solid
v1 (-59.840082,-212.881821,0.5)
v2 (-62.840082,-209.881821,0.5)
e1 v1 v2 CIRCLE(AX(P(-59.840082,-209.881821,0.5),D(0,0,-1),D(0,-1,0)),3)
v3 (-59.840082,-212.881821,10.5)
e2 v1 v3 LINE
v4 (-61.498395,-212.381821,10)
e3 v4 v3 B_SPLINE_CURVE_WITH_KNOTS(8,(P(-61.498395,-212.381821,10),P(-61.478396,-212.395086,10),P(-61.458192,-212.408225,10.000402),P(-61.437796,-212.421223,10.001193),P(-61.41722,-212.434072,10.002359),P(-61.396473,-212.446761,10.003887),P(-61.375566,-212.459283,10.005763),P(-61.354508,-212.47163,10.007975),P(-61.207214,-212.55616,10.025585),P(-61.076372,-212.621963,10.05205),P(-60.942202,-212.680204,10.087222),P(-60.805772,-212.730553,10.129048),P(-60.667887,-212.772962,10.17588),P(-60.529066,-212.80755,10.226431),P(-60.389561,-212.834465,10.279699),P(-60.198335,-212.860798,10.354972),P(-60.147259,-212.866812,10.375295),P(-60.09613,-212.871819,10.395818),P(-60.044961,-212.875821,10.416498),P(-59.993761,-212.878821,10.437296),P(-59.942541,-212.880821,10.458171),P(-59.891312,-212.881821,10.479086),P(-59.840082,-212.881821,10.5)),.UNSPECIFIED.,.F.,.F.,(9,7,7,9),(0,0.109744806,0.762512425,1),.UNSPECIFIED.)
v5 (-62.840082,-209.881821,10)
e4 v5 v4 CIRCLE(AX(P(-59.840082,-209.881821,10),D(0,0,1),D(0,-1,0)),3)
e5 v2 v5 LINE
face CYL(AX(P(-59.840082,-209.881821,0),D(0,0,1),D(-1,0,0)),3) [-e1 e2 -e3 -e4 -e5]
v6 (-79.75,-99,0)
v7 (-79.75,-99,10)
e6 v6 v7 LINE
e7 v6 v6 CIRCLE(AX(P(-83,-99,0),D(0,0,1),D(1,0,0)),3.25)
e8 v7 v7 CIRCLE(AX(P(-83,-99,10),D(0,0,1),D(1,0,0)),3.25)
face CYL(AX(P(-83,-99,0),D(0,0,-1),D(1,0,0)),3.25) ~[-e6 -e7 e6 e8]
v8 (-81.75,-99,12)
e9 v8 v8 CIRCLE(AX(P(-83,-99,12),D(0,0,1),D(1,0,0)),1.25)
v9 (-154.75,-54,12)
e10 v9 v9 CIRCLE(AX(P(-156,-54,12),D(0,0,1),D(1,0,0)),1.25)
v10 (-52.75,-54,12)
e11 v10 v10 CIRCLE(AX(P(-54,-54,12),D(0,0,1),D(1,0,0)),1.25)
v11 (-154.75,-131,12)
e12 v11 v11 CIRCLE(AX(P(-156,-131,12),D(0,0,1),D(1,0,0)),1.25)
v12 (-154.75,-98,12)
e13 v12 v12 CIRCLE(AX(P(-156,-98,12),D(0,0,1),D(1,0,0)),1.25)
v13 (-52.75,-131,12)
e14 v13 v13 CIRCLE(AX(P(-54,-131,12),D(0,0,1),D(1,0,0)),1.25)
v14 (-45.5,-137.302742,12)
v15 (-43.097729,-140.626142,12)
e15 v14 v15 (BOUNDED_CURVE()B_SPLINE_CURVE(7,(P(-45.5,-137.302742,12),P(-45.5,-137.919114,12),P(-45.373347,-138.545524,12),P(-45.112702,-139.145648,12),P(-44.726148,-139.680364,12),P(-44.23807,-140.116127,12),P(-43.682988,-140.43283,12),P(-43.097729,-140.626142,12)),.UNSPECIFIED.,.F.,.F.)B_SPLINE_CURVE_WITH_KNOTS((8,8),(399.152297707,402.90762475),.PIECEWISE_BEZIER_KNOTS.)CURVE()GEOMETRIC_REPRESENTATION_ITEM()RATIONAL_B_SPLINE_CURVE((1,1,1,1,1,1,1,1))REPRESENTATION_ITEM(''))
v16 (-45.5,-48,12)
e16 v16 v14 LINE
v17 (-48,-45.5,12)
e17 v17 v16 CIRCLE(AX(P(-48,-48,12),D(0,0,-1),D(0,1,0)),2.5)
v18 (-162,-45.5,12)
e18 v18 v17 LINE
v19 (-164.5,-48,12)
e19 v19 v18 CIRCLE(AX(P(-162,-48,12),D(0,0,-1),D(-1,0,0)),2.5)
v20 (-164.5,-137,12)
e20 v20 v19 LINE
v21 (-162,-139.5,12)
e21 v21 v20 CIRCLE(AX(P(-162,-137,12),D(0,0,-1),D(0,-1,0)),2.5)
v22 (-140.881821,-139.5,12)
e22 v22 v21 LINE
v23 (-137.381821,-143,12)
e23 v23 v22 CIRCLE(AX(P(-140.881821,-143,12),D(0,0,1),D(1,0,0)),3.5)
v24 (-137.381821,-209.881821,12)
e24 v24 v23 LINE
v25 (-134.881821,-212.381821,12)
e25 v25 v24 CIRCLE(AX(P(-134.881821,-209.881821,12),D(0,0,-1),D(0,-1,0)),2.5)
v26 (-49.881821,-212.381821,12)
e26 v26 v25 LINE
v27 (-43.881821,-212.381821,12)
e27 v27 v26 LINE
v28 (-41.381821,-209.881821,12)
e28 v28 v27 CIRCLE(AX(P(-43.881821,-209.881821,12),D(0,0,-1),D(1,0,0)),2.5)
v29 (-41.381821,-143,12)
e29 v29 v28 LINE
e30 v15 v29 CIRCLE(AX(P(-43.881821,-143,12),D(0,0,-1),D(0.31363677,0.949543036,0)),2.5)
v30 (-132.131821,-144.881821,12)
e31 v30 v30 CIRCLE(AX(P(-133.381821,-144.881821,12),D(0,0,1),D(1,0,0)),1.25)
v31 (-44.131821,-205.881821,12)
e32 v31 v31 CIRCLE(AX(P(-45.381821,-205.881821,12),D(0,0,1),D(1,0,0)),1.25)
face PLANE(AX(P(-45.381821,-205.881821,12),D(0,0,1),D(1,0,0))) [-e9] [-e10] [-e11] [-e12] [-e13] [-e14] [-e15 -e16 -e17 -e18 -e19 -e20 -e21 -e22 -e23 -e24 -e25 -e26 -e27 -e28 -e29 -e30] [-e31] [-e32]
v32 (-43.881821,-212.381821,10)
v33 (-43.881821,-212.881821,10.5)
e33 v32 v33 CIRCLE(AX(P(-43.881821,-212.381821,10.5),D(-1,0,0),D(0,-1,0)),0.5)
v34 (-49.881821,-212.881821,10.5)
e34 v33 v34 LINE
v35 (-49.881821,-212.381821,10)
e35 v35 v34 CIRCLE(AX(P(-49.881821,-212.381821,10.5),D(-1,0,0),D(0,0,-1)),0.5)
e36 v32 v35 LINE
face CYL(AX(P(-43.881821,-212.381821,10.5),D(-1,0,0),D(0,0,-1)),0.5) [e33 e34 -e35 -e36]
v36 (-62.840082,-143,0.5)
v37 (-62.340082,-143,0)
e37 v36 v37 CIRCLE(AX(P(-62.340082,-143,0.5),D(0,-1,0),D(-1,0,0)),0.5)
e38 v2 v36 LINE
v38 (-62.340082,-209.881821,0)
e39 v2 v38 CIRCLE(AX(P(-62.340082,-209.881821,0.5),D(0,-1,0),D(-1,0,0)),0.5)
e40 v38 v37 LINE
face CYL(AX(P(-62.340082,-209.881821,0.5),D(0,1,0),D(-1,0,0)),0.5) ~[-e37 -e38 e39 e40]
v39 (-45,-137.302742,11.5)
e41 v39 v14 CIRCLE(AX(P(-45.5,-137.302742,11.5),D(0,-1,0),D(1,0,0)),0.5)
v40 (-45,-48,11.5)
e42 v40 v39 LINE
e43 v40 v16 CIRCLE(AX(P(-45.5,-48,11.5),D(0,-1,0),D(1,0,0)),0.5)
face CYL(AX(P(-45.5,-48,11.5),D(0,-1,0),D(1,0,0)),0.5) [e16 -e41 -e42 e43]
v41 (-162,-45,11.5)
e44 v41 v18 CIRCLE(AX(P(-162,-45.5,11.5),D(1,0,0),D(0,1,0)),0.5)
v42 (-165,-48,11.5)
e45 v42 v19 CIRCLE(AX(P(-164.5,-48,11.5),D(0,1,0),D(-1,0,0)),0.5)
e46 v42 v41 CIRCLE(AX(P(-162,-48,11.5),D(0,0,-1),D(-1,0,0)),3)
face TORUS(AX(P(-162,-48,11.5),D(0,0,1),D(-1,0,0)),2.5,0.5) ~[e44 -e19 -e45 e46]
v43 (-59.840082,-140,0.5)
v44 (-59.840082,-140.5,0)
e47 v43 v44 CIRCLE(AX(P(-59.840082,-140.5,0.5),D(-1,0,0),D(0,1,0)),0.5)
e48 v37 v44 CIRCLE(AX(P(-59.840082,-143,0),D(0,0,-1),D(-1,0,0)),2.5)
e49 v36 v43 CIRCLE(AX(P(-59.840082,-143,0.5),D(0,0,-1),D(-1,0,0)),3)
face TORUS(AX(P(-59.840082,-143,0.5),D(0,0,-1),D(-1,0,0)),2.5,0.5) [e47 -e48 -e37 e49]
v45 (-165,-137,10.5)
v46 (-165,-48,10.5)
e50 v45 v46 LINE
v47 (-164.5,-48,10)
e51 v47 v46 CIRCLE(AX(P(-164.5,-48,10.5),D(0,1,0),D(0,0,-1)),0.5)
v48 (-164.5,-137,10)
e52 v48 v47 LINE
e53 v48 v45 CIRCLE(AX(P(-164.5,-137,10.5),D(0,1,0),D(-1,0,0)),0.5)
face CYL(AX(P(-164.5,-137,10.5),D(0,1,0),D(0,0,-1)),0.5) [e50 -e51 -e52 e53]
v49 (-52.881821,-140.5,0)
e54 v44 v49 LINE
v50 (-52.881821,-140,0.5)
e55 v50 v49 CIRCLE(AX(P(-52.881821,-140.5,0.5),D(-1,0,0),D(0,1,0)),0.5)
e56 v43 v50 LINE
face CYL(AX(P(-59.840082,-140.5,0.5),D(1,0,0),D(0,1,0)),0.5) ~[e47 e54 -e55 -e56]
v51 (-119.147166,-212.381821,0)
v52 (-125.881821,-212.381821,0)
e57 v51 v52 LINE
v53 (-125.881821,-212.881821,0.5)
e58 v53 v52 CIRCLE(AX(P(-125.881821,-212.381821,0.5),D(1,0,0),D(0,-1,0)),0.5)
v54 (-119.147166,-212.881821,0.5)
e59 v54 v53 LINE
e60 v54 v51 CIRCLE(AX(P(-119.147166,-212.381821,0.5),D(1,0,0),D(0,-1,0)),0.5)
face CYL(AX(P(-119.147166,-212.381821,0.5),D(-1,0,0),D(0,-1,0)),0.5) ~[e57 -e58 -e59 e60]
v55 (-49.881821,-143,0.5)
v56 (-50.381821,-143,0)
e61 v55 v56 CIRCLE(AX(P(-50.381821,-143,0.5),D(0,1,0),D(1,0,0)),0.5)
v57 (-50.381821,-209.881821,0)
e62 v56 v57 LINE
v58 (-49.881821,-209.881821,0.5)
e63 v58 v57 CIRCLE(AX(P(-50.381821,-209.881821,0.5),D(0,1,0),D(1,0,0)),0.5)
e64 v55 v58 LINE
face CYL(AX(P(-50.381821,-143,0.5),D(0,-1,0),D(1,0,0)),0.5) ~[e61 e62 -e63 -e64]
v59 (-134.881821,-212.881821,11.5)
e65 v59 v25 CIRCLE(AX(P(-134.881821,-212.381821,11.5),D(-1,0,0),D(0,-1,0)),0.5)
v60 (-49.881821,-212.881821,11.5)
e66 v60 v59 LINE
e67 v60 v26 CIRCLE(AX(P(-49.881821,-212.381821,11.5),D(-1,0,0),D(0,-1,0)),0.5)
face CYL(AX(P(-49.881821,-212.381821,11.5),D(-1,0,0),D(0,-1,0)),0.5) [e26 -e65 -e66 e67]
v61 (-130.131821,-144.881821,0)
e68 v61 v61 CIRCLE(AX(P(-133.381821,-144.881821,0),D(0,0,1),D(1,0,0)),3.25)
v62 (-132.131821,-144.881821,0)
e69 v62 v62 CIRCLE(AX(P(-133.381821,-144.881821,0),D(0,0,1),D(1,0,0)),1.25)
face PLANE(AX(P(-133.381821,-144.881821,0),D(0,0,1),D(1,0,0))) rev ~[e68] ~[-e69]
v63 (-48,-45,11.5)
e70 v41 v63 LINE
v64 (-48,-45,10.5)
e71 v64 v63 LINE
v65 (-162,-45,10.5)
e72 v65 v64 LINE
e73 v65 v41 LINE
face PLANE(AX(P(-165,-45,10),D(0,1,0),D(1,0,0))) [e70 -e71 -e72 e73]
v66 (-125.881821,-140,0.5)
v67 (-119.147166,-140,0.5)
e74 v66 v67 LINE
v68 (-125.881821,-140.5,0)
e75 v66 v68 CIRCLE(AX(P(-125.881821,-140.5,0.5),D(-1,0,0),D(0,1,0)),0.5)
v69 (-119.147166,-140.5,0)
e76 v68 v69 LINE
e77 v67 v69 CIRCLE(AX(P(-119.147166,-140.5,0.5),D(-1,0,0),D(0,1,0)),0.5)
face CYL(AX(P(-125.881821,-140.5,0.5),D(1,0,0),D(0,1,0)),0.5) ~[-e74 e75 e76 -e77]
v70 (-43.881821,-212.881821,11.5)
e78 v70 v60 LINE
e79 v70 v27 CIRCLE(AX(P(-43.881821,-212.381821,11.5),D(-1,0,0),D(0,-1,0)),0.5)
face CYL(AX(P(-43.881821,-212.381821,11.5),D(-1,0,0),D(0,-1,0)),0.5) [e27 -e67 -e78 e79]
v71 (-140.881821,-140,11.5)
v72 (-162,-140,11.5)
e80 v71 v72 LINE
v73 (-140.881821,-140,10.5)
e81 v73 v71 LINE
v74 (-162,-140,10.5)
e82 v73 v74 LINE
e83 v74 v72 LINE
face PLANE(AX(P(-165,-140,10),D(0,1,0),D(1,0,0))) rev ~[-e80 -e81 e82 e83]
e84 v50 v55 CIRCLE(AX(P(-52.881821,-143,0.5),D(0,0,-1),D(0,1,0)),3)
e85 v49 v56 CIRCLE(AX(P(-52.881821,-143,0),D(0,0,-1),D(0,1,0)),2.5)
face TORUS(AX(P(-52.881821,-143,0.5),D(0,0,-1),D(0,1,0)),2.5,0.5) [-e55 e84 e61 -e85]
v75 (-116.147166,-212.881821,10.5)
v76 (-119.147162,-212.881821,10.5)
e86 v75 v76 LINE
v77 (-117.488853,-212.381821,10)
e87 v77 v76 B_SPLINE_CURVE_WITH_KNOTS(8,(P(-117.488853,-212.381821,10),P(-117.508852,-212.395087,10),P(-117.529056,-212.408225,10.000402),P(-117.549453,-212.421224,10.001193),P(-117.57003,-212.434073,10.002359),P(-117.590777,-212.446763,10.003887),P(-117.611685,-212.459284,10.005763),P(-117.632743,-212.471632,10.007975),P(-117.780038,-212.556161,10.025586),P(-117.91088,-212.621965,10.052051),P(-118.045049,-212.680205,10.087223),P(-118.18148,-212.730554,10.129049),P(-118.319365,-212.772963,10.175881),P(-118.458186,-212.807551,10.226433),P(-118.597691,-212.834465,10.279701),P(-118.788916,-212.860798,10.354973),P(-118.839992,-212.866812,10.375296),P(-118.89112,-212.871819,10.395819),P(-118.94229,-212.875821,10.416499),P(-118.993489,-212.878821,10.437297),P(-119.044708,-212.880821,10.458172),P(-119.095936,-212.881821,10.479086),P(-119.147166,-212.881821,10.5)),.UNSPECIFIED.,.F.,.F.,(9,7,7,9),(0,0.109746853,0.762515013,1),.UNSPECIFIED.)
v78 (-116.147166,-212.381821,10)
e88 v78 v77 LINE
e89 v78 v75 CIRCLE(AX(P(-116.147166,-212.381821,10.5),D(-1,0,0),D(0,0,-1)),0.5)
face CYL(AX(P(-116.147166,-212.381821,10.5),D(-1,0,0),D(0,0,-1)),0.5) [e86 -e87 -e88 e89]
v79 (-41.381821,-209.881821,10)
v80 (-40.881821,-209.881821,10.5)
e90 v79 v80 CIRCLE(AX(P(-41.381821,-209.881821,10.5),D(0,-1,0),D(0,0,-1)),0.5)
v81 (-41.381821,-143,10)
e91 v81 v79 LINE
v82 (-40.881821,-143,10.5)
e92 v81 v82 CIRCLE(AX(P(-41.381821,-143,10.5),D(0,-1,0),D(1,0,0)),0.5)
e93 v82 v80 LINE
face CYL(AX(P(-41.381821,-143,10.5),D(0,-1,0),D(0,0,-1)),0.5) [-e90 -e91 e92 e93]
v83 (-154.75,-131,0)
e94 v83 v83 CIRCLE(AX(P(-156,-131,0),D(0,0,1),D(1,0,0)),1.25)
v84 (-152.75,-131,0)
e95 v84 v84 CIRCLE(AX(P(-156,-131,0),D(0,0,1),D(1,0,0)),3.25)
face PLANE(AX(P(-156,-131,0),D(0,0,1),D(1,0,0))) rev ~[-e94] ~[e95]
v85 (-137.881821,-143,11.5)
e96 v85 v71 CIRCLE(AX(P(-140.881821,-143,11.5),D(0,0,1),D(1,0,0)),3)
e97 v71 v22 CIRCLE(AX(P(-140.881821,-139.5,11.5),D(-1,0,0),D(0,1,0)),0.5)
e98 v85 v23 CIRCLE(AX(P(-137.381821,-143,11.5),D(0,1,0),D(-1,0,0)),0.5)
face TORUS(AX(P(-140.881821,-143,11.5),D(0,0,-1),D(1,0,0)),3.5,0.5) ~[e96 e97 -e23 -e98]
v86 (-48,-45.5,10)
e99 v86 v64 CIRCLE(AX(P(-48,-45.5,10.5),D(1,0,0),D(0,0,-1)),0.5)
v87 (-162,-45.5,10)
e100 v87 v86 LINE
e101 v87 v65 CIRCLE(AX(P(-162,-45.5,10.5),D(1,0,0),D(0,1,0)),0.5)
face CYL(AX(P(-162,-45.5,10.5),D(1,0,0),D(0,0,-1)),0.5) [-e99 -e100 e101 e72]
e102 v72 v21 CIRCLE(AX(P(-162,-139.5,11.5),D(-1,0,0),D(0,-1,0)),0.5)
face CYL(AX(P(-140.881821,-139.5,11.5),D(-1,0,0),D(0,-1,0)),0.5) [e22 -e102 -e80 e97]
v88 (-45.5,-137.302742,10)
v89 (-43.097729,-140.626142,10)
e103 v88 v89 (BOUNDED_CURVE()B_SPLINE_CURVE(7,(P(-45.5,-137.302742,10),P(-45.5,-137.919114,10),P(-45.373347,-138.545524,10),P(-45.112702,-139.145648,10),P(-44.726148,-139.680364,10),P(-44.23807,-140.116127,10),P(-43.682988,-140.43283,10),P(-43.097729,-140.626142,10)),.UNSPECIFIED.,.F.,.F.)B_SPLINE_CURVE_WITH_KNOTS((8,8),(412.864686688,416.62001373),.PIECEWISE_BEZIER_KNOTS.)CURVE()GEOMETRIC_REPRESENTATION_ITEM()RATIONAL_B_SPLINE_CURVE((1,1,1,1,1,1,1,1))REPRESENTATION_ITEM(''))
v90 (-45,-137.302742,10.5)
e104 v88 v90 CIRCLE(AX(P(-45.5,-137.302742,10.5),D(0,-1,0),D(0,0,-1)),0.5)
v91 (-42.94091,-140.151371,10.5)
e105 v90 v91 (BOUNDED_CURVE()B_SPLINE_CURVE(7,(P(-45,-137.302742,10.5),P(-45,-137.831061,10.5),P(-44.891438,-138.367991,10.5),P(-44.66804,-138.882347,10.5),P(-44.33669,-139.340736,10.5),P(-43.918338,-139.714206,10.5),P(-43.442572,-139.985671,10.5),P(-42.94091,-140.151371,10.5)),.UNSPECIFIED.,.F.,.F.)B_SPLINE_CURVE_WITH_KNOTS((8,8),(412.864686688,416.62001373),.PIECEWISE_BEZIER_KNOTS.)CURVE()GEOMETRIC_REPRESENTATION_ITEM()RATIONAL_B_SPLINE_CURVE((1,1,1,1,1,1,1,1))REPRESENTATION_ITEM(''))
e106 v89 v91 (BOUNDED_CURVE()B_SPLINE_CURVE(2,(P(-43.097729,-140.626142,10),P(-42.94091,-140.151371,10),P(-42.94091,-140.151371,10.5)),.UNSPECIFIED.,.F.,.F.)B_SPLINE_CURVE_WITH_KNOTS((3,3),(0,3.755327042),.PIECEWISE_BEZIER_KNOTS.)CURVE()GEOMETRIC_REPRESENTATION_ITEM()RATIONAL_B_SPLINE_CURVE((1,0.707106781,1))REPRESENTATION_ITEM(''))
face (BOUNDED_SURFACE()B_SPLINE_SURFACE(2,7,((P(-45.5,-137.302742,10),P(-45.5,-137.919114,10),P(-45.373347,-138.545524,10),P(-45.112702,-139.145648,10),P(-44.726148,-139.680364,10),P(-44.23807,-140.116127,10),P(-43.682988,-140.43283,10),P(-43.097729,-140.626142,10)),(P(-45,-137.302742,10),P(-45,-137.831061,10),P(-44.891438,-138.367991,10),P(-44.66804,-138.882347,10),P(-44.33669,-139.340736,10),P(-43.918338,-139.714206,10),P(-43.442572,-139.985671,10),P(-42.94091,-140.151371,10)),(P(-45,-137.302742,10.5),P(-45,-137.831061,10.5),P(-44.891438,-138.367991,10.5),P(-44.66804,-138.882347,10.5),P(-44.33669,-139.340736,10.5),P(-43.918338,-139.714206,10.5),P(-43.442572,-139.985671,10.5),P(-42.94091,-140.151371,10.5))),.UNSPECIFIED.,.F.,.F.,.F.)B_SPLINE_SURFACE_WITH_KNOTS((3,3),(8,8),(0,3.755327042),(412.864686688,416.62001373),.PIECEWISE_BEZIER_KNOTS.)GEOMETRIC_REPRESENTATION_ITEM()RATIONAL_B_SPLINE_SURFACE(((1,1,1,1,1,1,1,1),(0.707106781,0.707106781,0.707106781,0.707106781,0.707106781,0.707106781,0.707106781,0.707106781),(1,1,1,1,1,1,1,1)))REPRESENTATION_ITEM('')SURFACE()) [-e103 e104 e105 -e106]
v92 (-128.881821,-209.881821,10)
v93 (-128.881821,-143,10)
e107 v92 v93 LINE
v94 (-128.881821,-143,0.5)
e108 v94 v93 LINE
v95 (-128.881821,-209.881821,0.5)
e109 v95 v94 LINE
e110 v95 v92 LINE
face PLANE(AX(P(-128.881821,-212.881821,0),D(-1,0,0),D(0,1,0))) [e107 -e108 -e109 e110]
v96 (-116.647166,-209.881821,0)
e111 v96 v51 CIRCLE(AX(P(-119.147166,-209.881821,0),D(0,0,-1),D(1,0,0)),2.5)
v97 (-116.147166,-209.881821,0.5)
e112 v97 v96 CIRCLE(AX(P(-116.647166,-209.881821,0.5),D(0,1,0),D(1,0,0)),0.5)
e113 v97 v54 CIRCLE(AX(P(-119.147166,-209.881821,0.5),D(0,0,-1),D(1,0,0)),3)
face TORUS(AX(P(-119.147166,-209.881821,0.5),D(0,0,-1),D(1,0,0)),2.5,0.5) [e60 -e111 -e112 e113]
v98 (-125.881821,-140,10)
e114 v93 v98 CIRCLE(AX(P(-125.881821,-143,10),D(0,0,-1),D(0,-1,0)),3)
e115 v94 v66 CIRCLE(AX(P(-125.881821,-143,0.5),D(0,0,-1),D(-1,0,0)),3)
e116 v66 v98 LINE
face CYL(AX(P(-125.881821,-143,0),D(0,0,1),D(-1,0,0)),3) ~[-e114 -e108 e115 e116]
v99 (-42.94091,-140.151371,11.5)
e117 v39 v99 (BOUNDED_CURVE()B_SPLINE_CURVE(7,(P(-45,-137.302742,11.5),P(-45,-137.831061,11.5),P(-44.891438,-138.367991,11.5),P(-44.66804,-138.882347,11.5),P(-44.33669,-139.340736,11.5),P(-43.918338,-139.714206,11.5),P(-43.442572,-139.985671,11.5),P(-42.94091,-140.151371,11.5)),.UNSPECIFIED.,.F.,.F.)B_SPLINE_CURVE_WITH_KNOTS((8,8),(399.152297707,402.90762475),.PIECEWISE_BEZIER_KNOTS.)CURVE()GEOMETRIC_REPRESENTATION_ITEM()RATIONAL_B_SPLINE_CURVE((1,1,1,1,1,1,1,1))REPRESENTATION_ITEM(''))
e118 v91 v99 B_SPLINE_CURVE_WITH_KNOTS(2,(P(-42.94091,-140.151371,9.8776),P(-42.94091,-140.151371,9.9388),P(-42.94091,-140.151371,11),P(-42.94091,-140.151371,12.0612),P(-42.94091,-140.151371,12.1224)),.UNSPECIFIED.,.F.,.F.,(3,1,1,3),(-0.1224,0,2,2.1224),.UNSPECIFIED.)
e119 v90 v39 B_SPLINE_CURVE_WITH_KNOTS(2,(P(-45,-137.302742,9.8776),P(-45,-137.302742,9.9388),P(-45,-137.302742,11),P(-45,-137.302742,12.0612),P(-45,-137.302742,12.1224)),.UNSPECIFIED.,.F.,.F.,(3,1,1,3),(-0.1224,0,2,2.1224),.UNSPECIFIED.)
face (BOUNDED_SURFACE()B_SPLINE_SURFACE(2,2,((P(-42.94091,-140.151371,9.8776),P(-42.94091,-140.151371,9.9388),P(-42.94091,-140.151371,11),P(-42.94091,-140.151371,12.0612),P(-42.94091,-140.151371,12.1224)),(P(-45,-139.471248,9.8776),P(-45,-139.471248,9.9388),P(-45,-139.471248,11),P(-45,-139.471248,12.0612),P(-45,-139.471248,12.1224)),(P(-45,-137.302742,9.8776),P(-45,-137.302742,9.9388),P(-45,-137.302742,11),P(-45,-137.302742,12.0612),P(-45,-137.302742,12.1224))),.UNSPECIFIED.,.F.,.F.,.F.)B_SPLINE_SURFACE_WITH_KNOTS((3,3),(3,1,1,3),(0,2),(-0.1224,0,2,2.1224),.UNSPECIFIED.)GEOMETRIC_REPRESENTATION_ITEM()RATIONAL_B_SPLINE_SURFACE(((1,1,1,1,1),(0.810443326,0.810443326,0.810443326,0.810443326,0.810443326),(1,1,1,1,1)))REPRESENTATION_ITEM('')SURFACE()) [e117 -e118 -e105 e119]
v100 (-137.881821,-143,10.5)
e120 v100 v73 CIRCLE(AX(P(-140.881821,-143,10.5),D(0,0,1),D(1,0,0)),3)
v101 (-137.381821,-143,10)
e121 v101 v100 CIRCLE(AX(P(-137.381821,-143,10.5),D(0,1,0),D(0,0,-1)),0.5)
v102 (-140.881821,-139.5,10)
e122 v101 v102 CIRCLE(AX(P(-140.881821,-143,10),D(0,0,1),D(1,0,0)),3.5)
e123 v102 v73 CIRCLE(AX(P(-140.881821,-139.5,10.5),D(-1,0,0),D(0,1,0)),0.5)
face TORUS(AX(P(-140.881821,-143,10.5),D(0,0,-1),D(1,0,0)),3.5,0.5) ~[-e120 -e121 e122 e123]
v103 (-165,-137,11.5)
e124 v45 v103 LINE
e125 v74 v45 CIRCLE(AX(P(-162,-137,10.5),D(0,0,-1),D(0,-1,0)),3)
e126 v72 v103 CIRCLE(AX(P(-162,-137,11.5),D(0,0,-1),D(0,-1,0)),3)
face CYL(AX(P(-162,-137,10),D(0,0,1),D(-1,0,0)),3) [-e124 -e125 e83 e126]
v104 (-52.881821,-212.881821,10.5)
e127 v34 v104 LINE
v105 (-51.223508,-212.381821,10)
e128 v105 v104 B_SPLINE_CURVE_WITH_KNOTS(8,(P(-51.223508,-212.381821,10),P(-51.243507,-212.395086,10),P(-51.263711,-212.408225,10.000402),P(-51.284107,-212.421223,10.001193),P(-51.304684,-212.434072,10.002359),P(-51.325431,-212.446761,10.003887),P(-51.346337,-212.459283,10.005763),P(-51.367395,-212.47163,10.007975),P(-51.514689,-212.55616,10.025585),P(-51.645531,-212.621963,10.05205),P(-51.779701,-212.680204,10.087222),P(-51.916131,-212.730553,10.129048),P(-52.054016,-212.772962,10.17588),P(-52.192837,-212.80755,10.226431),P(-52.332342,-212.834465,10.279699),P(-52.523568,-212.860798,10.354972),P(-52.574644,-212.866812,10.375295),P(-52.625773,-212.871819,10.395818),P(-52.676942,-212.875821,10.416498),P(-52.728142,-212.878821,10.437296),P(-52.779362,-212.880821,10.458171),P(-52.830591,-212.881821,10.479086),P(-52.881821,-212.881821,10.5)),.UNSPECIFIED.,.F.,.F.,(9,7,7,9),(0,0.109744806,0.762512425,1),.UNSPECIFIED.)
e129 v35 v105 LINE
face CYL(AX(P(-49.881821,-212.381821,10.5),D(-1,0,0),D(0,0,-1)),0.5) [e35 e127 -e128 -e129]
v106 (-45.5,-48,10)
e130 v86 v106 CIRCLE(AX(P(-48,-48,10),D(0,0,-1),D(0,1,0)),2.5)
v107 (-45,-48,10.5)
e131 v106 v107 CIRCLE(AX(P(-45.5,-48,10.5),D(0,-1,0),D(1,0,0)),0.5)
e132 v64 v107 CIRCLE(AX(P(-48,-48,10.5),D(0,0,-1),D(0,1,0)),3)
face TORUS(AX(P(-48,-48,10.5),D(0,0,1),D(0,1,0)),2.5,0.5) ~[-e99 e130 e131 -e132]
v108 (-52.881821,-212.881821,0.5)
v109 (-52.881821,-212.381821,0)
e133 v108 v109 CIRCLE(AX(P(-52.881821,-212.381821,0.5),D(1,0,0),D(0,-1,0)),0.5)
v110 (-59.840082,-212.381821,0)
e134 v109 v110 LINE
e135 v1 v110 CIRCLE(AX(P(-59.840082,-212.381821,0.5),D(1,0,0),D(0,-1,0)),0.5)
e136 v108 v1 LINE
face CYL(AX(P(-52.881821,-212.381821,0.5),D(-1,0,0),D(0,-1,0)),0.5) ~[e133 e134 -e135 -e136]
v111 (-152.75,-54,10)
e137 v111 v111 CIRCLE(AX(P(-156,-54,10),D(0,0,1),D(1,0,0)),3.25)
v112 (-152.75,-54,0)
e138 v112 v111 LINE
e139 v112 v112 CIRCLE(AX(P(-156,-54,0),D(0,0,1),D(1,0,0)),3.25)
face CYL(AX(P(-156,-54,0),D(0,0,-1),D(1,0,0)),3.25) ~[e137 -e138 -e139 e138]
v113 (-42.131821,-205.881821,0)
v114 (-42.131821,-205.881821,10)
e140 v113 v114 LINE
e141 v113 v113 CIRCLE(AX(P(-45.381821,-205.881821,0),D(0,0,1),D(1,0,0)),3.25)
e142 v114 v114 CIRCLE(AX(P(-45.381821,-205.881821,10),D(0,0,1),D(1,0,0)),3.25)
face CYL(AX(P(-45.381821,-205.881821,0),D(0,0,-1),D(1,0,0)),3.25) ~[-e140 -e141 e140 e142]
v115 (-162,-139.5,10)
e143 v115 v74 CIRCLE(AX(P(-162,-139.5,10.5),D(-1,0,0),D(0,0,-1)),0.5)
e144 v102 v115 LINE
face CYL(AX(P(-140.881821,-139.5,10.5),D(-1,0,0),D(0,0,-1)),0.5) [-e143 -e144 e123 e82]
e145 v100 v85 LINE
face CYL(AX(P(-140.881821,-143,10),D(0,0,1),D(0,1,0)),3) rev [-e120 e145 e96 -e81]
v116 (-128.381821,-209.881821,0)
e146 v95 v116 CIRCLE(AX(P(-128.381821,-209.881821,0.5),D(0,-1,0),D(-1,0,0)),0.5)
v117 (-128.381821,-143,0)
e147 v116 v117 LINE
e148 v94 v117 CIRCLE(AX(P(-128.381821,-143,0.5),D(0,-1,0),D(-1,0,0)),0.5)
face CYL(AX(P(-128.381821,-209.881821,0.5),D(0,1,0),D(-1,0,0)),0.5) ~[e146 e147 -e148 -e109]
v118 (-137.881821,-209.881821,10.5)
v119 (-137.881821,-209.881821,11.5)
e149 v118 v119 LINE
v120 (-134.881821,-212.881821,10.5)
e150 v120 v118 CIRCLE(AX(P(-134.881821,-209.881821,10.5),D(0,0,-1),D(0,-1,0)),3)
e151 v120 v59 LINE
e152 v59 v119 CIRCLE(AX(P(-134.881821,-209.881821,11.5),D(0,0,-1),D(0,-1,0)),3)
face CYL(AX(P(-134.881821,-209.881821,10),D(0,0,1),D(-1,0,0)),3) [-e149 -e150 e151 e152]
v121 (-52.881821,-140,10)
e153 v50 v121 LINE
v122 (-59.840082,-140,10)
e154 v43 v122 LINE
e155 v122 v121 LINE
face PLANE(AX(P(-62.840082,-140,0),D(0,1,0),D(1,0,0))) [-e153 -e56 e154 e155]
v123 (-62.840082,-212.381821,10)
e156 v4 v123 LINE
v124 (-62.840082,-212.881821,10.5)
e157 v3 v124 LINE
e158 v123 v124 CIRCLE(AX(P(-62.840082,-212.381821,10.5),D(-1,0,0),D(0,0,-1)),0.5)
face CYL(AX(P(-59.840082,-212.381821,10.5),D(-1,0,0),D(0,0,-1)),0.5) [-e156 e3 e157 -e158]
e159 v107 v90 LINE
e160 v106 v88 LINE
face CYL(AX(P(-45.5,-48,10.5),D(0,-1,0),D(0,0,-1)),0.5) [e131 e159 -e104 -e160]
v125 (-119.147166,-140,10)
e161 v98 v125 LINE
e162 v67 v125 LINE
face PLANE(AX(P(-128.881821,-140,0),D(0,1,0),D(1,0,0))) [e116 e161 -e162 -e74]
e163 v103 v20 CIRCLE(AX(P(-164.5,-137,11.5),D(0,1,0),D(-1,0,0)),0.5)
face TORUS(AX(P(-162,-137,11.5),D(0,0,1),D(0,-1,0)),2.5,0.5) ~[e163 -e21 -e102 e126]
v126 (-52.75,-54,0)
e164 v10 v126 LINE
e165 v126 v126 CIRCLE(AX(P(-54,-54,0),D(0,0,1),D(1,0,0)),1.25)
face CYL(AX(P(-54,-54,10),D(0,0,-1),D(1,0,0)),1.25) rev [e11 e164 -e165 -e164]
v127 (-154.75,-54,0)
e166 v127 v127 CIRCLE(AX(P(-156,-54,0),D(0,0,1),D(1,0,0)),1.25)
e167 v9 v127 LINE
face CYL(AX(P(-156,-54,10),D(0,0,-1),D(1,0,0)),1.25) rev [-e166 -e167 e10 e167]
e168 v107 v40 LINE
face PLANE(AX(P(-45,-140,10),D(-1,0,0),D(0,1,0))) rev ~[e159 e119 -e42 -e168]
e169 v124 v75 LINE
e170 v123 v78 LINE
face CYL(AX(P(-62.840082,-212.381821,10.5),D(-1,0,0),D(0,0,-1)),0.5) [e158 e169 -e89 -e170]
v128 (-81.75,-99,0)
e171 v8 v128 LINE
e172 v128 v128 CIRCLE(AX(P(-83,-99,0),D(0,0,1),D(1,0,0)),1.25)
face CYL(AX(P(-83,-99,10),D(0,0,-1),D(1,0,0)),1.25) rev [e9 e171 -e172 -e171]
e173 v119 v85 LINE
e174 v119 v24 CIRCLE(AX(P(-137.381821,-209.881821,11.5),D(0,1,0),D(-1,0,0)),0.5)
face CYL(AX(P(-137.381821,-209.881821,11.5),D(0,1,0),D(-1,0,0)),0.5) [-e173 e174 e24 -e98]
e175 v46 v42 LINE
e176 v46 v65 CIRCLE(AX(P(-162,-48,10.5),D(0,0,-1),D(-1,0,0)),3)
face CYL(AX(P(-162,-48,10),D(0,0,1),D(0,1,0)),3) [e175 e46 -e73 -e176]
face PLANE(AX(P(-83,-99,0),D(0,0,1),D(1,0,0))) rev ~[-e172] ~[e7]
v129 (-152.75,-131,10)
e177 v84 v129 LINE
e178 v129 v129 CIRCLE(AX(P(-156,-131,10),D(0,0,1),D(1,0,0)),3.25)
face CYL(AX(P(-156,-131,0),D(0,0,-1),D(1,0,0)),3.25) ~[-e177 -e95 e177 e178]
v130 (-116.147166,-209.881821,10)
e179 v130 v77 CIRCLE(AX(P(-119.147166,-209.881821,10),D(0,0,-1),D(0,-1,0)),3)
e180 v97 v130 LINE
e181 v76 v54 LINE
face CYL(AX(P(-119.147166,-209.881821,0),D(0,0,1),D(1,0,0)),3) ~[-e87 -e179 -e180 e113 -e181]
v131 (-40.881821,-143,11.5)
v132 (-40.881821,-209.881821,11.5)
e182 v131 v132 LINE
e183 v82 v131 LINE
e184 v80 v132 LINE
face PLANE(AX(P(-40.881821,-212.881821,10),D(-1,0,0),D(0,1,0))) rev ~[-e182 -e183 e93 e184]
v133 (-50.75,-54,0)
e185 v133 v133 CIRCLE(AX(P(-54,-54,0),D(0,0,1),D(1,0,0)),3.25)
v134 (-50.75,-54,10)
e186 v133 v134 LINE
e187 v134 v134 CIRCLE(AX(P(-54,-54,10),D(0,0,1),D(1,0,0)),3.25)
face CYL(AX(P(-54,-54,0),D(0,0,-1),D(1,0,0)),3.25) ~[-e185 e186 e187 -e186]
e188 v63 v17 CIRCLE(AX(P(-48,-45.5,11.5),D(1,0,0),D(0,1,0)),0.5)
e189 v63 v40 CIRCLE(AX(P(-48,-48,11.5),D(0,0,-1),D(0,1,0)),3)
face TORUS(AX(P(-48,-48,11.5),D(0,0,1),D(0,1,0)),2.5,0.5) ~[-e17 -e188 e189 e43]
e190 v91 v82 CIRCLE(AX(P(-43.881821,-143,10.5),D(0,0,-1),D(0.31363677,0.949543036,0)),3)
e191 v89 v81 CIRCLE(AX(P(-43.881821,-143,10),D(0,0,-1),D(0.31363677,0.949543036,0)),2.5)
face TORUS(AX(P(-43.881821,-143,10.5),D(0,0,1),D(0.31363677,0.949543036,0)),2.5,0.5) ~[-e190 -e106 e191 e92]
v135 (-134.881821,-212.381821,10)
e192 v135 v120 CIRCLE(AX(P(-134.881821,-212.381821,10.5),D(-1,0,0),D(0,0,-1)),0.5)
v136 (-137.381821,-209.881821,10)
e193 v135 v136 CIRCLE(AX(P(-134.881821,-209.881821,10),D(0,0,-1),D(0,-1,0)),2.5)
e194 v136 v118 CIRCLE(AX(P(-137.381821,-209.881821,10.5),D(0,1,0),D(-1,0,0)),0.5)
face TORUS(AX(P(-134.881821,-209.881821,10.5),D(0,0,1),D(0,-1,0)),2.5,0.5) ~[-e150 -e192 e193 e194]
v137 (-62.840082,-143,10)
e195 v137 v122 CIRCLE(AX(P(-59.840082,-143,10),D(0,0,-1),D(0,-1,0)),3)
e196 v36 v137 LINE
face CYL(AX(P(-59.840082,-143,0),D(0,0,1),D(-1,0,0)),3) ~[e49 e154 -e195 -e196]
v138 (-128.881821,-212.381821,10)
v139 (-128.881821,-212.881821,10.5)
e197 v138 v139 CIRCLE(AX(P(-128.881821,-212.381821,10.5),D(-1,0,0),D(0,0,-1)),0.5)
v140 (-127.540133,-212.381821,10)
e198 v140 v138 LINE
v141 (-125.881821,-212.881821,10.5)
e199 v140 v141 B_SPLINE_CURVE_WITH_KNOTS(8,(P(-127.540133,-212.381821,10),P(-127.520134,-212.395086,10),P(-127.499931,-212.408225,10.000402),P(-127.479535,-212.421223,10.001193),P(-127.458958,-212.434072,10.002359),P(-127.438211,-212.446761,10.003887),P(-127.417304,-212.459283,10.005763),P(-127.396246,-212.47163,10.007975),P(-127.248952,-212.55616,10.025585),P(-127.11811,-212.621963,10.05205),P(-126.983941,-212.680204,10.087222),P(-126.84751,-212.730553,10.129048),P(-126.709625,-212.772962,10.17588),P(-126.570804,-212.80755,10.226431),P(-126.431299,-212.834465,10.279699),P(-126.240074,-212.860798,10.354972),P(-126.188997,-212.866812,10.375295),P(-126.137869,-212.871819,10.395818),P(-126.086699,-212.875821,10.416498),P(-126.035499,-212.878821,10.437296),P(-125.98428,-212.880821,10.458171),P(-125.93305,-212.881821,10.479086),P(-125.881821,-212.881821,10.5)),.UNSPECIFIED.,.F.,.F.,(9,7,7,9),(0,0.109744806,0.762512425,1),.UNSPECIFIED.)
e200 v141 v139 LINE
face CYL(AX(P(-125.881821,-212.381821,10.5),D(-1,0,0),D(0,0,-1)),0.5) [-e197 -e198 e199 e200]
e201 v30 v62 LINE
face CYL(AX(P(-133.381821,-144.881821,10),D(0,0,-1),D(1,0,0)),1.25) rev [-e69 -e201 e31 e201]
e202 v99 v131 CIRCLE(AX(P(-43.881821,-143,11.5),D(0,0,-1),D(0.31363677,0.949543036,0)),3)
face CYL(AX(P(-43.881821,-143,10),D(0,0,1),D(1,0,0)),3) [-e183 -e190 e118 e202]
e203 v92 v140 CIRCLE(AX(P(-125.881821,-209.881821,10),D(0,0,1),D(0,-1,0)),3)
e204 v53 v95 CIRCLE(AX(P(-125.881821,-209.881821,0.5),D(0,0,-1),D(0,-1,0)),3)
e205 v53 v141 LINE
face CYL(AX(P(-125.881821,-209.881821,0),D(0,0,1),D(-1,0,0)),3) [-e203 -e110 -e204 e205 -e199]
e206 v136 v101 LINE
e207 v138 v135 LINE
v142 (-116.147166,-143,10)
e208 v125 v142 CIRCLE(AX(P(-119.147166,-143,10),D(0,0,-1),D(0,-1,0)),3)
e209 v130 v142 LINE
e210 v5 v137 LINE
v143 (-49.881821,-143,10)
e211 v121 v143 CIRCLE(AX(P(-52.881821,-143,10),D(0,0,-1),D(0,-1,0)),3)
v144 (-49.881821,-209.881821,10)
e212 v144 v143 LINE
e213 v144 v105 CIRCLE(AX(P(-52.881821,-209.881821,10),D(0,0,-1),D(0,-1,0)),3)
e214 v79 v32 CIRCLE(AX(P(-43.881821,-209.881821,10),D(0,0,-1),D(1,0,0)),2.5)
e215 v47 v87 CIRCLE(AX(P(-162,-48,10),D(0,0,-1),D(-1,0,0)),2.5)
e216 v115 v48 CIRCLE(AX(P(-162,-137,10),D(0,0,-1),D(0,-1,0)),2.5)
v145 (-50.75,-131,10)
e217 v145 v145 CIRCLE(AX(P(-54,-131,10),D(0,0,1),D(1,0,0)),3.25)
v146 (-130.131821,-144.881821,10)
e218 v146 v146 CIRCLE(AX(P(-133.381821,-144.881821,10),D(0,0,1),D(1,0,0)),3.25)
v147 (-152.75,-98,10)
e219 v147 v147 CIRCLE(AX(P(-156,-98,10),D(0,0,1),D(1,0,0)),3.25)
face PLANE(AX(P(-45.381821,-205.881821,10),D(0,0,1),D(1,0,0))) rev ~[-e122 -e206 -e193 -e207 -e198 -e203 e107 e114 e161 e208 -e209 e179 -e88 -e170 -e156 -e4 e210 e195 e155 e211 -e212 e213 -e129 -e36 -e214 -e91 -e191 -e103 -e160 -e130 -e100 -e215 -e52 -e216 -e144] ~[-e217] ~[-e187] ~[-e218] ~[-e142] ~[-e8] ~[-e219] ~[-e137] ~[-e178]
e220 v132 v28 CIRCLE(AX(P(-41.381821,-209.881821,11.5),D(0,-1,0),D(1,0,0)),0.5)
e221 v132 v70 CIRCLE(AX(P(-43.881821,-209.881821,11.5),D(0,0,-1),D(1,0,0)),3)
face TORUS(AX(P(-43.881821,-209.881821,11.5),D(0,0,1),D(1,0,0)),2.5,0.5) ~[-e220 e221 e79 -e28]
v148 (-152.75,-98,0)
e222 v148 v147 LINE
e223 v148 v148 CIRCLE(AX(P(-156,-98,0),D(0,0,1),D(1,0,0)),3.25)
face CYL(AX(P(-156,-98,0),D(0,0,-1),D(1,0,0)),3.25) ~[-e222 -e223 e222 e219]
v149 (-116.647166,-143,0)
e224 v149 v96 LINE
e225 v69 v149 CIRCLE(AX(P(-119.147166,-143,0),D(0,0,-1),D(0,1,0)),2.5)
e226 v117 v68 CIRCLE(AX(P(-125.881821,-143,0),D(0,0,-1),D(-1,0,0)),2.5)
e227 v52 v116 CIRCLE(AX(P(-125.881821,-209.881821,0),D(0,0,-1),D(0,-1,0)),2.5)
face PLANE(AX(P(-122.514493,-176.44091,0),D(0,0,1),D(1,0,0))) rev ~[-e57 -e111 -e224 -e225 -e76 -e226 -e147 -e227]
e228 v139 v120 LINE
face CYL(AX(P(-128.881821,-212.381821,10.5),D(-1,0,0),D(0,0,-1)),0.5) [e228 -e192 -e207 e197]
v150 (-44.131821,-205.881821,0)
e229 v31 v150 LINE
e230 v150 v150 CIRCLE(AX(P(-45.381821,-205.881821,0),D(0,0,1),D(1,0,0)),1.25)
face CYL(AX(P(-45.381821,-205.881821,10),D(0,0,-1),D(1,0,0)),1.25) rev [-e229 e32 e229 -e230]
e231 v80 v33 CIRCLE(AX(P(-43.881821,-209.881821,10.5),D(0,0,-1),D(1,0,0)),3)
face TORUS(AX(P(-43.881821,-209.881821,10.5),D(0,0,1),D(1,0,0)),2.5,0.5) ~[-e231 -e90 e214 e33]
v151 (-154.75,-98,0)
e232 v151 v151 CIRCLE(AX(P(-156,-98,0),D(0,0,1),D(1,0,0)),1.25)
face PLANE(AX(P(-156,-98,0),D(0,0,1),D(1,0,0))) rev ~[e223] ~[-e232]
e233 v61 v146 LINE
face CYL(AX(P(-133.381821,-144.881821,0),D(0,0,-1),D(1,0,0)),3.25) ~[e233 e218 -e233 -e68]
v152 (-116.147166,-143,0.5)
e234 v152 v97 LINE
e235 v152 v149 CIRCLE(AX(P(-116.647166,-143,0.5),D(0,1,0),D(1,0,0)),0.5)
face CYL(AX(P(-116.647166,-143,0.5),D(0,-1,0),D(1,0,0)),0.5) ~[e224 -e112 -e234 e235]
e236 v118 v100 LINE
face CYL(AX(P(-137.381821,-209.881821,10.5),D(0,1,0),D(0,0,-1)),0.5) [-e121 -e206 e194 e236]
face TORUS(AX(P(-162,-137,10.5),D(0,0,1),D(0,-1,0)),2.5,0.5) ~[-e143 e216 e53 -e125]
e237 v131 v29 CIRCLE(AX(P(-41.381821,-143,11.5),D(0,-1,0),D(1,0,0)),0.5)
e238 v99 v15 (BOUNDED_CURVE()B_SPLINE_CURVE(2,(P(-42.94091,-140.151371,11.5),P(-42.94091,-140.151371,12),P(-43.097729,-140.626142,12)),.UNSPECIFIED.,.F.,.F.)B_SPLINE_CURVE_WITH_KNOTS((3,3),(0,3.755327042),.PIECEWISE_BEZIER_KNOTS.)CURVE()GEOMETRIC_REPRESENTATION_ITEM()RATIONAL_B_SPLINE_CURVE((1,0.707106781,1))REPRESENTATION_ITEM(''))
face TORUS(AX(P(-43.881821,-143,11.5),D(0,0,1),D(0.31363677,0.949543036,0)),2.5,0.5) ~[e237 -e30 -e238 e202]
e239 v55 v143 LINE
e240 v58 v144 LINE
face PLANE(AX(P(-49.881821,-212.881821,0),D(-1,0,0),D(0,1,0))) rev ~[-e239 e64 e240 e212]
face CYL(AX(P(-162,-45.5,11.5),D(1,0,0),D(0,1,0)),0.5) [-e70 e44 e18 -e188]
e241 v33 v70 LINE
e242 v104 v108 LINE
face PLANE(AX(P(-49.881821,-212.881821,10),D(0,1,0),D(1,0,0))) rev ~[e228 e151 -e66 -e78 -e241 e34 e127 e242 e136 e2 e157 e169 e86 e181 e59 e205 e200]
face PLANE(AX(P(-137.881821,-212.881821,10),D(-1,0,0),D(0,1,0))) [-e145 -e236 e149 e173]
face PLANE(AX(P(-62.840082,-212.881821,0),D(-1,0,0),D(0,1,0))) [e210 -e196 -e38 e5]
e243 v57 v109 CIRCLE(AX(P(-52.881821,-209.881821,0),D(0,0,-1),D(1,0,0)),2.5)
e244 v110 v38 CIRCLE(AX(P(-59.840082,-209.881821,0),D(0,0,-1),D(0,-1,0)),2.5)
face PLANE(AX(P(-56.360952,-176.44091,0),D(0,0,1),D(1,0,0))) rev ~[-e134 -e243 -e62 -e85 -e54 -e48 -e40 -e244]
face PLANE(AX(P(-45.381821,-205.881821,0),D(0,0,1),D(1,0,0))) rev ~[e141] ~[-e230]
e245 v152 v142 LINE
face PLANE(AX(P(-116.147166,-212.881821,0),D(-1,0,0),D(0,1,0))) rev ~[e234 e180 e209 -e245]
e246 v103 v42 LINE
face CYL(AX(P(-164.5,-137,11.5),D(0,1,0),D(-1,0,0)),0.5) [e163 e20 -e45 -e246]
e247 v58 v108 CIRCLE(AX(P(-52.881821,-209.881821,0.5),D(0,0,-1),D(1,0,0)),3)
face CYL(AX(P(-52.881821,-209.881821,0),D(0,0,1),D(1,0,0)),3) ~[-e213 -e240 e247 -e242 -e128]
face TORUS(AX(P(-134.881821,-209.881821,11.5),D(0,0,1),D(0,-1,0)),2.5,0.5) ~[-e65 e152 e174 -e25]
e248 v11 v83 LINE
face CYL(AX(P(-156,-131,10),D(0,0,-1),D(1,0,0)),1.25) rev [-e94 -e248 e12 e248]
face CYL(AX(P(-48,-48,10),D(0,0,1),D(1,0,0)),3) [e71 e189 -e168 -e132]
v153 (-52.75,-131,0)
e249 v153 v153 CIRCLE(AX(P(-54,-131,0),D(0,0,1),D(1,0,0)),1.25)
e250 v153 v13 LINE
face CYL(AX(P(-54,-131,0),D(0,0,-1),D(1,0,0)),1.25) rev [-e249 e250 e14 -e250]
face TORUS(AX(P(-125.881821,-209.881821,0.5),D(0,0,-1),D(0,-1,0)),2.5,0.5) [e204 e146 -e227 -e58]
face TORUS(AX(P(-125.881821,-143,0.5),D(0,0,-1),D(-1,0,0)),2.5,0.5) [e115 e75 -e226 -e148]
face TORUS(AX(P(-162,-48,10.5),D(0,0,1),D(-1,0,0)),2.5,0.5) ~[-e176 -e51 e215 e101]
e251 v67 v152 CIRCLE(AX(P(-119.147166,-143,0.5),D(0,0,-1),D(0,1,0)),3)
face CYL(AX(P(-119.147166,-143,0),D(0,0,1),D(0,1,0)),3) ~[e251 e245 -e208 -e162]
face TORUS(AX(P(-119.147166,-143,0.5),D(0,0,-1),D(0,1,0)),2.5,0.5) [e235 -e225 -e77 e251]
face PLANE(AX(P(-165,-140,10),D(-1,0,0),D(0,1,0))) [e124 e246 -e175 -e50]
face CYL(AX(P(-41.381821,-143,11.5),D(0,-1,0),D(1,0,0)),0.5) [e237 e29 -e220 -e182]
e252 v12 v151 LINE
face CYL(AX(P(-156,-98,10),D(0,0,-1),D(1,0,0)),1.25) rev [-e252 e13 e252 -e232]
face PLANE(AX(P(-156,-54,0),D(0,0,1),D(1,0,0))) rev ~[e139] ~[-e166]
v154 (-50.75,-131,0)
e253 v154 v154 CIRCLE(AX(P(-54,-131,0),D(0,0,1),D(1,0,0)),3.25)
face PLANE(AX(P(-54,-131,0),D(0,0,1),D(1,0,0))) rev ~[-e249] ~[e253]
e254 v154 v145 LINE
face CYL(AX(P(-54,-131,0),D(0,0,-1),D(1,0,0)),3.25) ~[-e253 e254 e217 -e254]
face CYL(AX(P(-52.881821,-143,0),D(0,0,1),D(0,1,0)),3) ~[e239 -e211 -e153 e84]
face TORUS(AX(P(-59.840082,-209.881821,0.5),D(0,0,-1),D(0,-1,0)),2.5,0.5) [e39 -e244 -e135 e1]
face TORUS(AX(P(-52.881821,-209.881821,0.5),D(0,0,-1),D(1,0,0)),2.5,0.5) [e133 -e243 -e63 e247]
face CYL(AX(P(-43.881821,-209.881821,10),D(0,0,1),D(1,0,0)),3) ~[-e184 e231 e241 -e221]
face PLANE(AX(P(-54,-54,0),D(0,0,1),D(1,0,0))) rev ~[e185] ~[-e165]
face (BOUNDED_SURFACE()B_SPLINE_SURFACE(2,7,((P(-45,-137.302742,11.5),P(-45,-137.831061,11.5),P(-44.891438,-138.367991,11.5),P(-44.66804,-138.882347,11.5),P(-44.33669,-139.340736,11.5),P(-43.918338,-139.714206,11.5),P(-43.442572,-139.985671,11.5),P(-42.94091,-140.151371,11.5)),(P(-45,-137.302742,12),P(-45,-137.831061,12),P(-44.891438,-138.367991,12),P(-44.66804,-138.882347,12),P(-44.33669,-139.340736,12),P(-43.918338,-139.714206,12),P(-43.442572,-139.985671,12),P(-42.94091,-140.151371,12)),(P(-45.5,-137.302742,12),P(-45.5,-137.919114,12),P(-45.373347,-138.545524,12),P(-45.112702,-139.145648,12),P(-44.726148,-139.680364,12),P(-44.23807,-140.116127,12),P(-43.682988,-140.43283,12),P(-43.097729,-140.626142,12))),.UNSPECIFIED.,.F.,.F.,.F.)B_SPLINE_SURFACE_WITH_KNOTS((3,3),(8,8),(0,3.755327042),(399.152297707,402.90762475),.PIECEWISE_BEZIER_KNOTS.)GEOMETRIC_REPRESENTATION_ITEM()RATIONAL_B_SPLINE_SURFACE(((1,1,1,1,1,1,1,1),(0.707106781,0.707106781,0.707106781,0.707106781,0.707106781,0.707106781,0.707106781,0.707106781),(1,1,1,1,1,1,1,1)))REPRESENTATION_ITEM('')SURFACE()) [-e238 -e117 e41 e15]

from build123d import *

# Parameters (mm, degrees)
BOSS_EXTRUDE1_START = 10
SKETCH1_W           = 120
SKETCH1_H           = 95
SKETCH1_R           = 3.25
SKETCH1_R_2         = 1.25
SKETCH1_W_2         = 12.958261818
SKETCH1_H_2         = 72.881820619
SKETCH1_W_3         = 53.307083162
SKETCH1_W_4         = 12.73465502
SKETCH1_W_5         = 9
BOSS_EXTRUDE1_DEPTH = 2
SKETCH1_3_R         = 3.25
SKETCH1_3_R_2       = 1.25
SKETCH1_3_W         = 12.73465502
SKETCH1_3_H         = 72.881820619
SKETCH1_3_W_2       = 12.958261818
BOSS_EXTRUDE2_DEPTH = 10
FILLET1_R           = 3
FILLET2_R           = 3
FILLET3_R           = 0.5


with BuildPart() as part:
    # Sketch1 → Boss-Extrude1 (new body)
    # profile 1 of 14: a face of its own
    with BuildSketch(Plane.XY.offset(BOSS_EXTRUDE1_START)):
        with Locations((-105, -92.5)):
            Rectangle(SKETCH1_W, SKETCH1_H)
        with Locations((-83, -99)):
            Circle(SKETCH1_R, mode=Mode.SUBTRACT)
        with Locations((-54, -131)):
            Circle(SKETCH1_R, mode=Mode.SUBTRACT)
        with Locations((-156, -131)):
            Circle(SKETCH1_R, mode=Mode.SUBTRACT)
        with Locations((-156, -98)):
            Circle(SKETCH1_R, mode=Mode.SUBTRACT)
        with Locations((-156, -54)):
            Circle(SKETCH1_R, mode=Mode.SUBTRACT)
        with Locations((-54, -54)):
            Circle(SKETCH1_R, mode=Mode.SUBTRACT)
    # profile 2 of 14: a face of its own
    with BuildSketch(Plane.XY.offset(BOSS_EXTRUDE1_START)):
        with Locations((-54, -54)):
            Circle(SKETCH1_R)
        with Locations((-54, -54)):
            Circle(SKETCH1_R_2, mode=Mode.SUBTRACT)
    # profile 3 of 14: a face of its own
    with BuildSketch(Plane.XY.offset(BOSS_EXTRUDE1_START)):
        with Locations((-156, -54)):
            Circle(SKETCH1_R)
        with Locations((-156, -54)):
            Circle(SKETCH1_R_2, mode=Mode.SUBTRACT)
    # profile 4 of 14: a face of its own
    with BuildSketch(Plane.XY.offset(BOSS_EXTRUDE1_START)):
        with Locations((-156, -98)):
            Circle(SKETCH1_R)
        with Locations((-156, -98)):
            Circle(SKETCH1_R_2, mode=Mode.SUBTRACT)
    # profile 5 of 14: a face of its own
    with BuildSketch(Plane.XY.offset(BOSS_EXTRUDE1_START)):
        with Locations((-83, -99)):
            Circle(SKETCH1_R)
        with Locations((-83, -99)):
            Circle(SKETCH1_R_2, mode=Mode.SUBTRACT)
    # profile 6 of 14: a face of its own
    with BuildSketch(Plane.XY.offset(BOSS_EXTRUDE1_START)):
        with Locations((-156, -131)):
            Circle(SKETCH1_R)
        with Locations((-156, -131)):
            Circle(SKETCH1_R_2, mode=Mode.SUBTRACT)
    # profile 7 of 14: a face of its own
    with BuildSketch(Plane.XY.offset(BOSS_EXTRUDE1_START)):
        with Locations((-54, -131)):
            Circle(SKETCH1_R)
        with Locations((-54, -131)):
            Circle(SKETCH1_R_2, mode=Mode.SUBTRACT)
    # profile 8 of 14: a face of its own
    with BuildSketch(Plane.XY.offset(BOSS_EXTRUDE1_START)):
        Polygon((-49.881820619, -212.881820619), (-40.881820619, -212.881820619), (-40.881820619, -140), (-45, -140), (-49.881820619, -140), align=None)
        with Locations((-45.381820619, -205.881820619)):
            Circle(SKETCH1_R, mode=Mode.SUBTRACT)
    # profile 9 of 14: a face of its own
    with BuildSketch(Plane.XY.offset(BOSS_EXTRUDE1_START)):
        with Locations((-56.360951528, -176.440910309)):
            Rectangle(SKETCH1_W_2, SKETCH1_H_2)
    # profile 10 of 14: a face of its own
    with BuildSketch(Plane.XY.offset(BOSS_EXTRUDE1_START)):
        with Locations((-89.493624018, -176.440910309)):
            Rectangle(SKETCH1_W_3, SKETCH1_H_2)
    # profile 11 of 14: a face of its own
    with BuildSketch(Plane.XY.offset(BOSS_EXTRUDE1_START)):
        with Locations((-122.514493109, -176.440910309)):
            Rectangle(SKETCH1_W_4, SKETCH1_H_2)
    # profile 12 of 14: a face of its own
    with BuildSketch(Plane.XY.offset(BOSS_EXTRUDE1_START)):
        with Locations((-133.381820619, -176.440910309)):
            Rectangle(SKETCH1_W_5, SKETCH1_H_2)
        with Locations((-133.381820619, -144.881820619)):
            Circle(SKETCH1_R, mode=Mode.SUBTRACT)
    # profile 13 of 14: a face of its own
    with BuildSketch(Plane.XY.offset(BOSS_EXTRUDE1_START)):
        with Locations((-133.381820619, -144.881820619)):
            Circle(SKETCH1_R)
        with Locations((-133.381820619, -144.881820619)):
            Circle(SKETCH1_R_2, mode=Mode.SUBTRACT)
    # profile 14 of 14: a face of its own
    with BuildSketch(Plane.XY.offset(BOSS_EXTRUDE1_START)):
        with Locations((-45.381820619, -205.881820619)):
            Circle(SKETCH1_R)
        with Locations((-45.381820619, -205.881820619)):
            Circle(SKETCH1_R_2, mode=Mode.SUBTRACT)
    extrude(amount=BOSS_EXTRUDE1_DEPTH)

    # Sketch1<3> → Boss-Extrude2 (add)
    # profile 1 of 10: a face of its own
    with BuildSketch(Plane.XY):
        with Locations((-54, -131)):
            Circle(SKETCH1_3_R)
        with Locations((-54, -131)):
            Circle(SKETCH1_3_R_2, mode=Mode.SUBTRACT)
    # profile 2 of 10: a face of its own
    with BuildSketch(Plane.XY):
        with Locations((-83, -99)):
            Circle(SKETCH1_3_R)
        with Locations((-83, -99)):
            Circle(SKETCH1_3_R_2, mode=Mode.SUBTRACT)
    # profile 3 of 10: a face of its own
    with BuildSketch(Plane.XY):
        with Locations((-54, -54)):
            Circle(SKETCH1_3_R)
        with Locations((-54, -54)):
            Circle(SKETCH1_3_R_2, mode=Mode.SUBTRACT)
    # profile 4 of 10: a face of its own
    with BuildSketch(Plane.XY):
        with Locations((-156, -54)):
            Circle(SKETCH1_3_R)
        with Locations((-156, -54)):
            Circle(SKETCH1_3_R_2, mode=Mode.SUBTRACT)
    # profile 5 of 10: a face of its own
    with BuildSketch(Plane.XY):
        with Locations((-156, -98)):
            Circle(SKETCH1_3_R)
        with Locations((-156, -98)):
            Circle(SKETCH1_3_R_2, mode=Mode.SUBTRACT)
    # profile 6 of 10: a face of its own
    with BuildSketch(Plane.XY):
        with Locations((-156, -131)):
            Circle(SKETCH1_3_R)
        with Locations((-156, -131)):
            Circle(SKETCH1_3_R_2, mode=Mode.SUBTRACT)
    # profile 7 of 10: a face of its own
    with BuildSketch(Plane.XY):
        with Locations((-133.381820619, -144.881820619)):
            Circle(SKETCH1_3_R)
        with Locations((-133.381820619, -144.881820619)):
            Circle(SKETCH1_3_R_2, mode=Mode.SUBTRACT)
    # profile 8 of 10: a face of its own
    with BuildSketch(Plane.XY):
        with Locations((-122.514493109, -176.440910309)):
            Rectangle(SKETCH1_3_W, SKETCH1_3_H)
    # profile 9 of 10: a face of its own
    with BuildSketch(Plane.XY):
        with Locations((-56.360951528, -176.440910309)):
            Rectangle(SKETCH1_3_W_2, SKETCH1_3_H)
    # profile 10 of 10: a face of its own
    with BuildSketch(Plane.XY):
        with Locations((-45.381820619, -205.881820619)):
            Circle(SKETCH1_3_R)
        with Locations((-45.381820619, -205.881820619)):
            Circle(SKETCH1_3_R_2, mode=Mode.SUBTRACT)
    extrude(amount=BOSS_EXTRUDE2_DEPTH)

    # Fillet1
    fillet1_edges = [part.edges().sort_by_distance(p)[0] for p in [
        (-128.881820619, -212.881820619, 5),
        (-128.881820619, -140, 5),
        (-116.147165599, -140, 5),
        (-116.147165599, -212.881820619, 5),
        (-49.881820619, -140, 5),
        (-62.840082437, -140, 5),
        (-62.840082437, -212.881820619, 5),
        (-49.881820619, -212.881820619, 5),
        (-137.881820619, -140, 11),
        (-165, -140, 11),
        (-165, -45, 11),
        (-45, -45, 11),
        (-40.881820619, -140, 11),
        (-40.881820619, -212.881820619, 11),
        (-137.881820619, -212.881820619, 11),
    ]]
    fillet(fillet1_edges, radius=FILLET1_R)

    # Fillet2
    fillet2_edges = [part.edges().sort_by_distance(p)[0] for p in [
        (-45, -140, 11),
    ]]
    fillet(fillet2_edges, radius=FILLET2_R)

    # Fillet3
    fillet3_edges = [part.edges().sort_by_distance(p)[0] for p in [
        (-89.493624018, -212.881820619, 10),
        (-137.881820619, -176.44091031, 10),
        (-137.881820619, -176.44091031, 12),
        (-151.44091031, -140, 10),
        (-151.44091031, -140, 12),
        (-105, -45, 10),
        (-105, -45, 12),
        (-165, -92.5, 10),
        (-45, -92.651370893, 10),
        (-40.881820619, -176.44091031, 10),
        (-48.381820619, -212.881820619, 10),
        (-41.760500276, -212.003140963, 10),
        (-137.003140963, -212.003140963, 10),
        (-164.121320344, -139.121320344, 10),
        (-164.121320344, -45.878679656, 10),
        (-45.878679656, -45.878679656, 10),
        (-45, -92.651370893, 12),
        (-89.381820619, -212.881820619, 12),
        (-40.881820619, -176.44091031, 12),
        (-165, -92.5, 12),
        (-41.760500276, -212.003140963, 12),
        (-137.003140963, -212.003140963, 12),
        (-41.450490641, -141.242548853, 12),
        (-164.121320344, -139.121320344, 12),
        (-164.121320344, -45.878679656, 12),
        (-45.878679656, -45.878679656, 12),
        (-128.881820619, -176.44091031, 0),
        (-116.147165599, -176.44091031, 0),
        (-122.514493109, -212.881820619, 0),
        (-122.514493109, -140, 0),
        (-117.025845255, -212.003140963, 0),
        (-128.003140963, -212.003140963, 0),
        (-117.025845255, -140.878679656, 0),
        (-128.003140963, -140.878679656, 0),
        (-62.840082437, -176.44091031, 0),
        (-56.360951528, -140, 0),
        (-49.881820619, -176.44091031, 0),
        (-56.360951528, -212.881820619, 0),
        (-50.760500276, -212.003140963, 0),
        (-61.961402781, -212.003140963, 0),
        (-50.760500276, -140.878679656, 0),
        (-61.961402781, -140.878679656, 0),
        (-138.760500276, -140.878679656, 10),
        (-138.760500276, -140.878679656, 12),
        (-41.450490641, -141.242548853, 10),
        (-44.431329979, -139.060192933, 10),
        (-44.431329979, -139.060192933, 12),
        (-130.381820619, -212.881820619, 10),
    ]]
    fillet(fillet3_edges, radius=FILLET3_R)


solid = part.part
